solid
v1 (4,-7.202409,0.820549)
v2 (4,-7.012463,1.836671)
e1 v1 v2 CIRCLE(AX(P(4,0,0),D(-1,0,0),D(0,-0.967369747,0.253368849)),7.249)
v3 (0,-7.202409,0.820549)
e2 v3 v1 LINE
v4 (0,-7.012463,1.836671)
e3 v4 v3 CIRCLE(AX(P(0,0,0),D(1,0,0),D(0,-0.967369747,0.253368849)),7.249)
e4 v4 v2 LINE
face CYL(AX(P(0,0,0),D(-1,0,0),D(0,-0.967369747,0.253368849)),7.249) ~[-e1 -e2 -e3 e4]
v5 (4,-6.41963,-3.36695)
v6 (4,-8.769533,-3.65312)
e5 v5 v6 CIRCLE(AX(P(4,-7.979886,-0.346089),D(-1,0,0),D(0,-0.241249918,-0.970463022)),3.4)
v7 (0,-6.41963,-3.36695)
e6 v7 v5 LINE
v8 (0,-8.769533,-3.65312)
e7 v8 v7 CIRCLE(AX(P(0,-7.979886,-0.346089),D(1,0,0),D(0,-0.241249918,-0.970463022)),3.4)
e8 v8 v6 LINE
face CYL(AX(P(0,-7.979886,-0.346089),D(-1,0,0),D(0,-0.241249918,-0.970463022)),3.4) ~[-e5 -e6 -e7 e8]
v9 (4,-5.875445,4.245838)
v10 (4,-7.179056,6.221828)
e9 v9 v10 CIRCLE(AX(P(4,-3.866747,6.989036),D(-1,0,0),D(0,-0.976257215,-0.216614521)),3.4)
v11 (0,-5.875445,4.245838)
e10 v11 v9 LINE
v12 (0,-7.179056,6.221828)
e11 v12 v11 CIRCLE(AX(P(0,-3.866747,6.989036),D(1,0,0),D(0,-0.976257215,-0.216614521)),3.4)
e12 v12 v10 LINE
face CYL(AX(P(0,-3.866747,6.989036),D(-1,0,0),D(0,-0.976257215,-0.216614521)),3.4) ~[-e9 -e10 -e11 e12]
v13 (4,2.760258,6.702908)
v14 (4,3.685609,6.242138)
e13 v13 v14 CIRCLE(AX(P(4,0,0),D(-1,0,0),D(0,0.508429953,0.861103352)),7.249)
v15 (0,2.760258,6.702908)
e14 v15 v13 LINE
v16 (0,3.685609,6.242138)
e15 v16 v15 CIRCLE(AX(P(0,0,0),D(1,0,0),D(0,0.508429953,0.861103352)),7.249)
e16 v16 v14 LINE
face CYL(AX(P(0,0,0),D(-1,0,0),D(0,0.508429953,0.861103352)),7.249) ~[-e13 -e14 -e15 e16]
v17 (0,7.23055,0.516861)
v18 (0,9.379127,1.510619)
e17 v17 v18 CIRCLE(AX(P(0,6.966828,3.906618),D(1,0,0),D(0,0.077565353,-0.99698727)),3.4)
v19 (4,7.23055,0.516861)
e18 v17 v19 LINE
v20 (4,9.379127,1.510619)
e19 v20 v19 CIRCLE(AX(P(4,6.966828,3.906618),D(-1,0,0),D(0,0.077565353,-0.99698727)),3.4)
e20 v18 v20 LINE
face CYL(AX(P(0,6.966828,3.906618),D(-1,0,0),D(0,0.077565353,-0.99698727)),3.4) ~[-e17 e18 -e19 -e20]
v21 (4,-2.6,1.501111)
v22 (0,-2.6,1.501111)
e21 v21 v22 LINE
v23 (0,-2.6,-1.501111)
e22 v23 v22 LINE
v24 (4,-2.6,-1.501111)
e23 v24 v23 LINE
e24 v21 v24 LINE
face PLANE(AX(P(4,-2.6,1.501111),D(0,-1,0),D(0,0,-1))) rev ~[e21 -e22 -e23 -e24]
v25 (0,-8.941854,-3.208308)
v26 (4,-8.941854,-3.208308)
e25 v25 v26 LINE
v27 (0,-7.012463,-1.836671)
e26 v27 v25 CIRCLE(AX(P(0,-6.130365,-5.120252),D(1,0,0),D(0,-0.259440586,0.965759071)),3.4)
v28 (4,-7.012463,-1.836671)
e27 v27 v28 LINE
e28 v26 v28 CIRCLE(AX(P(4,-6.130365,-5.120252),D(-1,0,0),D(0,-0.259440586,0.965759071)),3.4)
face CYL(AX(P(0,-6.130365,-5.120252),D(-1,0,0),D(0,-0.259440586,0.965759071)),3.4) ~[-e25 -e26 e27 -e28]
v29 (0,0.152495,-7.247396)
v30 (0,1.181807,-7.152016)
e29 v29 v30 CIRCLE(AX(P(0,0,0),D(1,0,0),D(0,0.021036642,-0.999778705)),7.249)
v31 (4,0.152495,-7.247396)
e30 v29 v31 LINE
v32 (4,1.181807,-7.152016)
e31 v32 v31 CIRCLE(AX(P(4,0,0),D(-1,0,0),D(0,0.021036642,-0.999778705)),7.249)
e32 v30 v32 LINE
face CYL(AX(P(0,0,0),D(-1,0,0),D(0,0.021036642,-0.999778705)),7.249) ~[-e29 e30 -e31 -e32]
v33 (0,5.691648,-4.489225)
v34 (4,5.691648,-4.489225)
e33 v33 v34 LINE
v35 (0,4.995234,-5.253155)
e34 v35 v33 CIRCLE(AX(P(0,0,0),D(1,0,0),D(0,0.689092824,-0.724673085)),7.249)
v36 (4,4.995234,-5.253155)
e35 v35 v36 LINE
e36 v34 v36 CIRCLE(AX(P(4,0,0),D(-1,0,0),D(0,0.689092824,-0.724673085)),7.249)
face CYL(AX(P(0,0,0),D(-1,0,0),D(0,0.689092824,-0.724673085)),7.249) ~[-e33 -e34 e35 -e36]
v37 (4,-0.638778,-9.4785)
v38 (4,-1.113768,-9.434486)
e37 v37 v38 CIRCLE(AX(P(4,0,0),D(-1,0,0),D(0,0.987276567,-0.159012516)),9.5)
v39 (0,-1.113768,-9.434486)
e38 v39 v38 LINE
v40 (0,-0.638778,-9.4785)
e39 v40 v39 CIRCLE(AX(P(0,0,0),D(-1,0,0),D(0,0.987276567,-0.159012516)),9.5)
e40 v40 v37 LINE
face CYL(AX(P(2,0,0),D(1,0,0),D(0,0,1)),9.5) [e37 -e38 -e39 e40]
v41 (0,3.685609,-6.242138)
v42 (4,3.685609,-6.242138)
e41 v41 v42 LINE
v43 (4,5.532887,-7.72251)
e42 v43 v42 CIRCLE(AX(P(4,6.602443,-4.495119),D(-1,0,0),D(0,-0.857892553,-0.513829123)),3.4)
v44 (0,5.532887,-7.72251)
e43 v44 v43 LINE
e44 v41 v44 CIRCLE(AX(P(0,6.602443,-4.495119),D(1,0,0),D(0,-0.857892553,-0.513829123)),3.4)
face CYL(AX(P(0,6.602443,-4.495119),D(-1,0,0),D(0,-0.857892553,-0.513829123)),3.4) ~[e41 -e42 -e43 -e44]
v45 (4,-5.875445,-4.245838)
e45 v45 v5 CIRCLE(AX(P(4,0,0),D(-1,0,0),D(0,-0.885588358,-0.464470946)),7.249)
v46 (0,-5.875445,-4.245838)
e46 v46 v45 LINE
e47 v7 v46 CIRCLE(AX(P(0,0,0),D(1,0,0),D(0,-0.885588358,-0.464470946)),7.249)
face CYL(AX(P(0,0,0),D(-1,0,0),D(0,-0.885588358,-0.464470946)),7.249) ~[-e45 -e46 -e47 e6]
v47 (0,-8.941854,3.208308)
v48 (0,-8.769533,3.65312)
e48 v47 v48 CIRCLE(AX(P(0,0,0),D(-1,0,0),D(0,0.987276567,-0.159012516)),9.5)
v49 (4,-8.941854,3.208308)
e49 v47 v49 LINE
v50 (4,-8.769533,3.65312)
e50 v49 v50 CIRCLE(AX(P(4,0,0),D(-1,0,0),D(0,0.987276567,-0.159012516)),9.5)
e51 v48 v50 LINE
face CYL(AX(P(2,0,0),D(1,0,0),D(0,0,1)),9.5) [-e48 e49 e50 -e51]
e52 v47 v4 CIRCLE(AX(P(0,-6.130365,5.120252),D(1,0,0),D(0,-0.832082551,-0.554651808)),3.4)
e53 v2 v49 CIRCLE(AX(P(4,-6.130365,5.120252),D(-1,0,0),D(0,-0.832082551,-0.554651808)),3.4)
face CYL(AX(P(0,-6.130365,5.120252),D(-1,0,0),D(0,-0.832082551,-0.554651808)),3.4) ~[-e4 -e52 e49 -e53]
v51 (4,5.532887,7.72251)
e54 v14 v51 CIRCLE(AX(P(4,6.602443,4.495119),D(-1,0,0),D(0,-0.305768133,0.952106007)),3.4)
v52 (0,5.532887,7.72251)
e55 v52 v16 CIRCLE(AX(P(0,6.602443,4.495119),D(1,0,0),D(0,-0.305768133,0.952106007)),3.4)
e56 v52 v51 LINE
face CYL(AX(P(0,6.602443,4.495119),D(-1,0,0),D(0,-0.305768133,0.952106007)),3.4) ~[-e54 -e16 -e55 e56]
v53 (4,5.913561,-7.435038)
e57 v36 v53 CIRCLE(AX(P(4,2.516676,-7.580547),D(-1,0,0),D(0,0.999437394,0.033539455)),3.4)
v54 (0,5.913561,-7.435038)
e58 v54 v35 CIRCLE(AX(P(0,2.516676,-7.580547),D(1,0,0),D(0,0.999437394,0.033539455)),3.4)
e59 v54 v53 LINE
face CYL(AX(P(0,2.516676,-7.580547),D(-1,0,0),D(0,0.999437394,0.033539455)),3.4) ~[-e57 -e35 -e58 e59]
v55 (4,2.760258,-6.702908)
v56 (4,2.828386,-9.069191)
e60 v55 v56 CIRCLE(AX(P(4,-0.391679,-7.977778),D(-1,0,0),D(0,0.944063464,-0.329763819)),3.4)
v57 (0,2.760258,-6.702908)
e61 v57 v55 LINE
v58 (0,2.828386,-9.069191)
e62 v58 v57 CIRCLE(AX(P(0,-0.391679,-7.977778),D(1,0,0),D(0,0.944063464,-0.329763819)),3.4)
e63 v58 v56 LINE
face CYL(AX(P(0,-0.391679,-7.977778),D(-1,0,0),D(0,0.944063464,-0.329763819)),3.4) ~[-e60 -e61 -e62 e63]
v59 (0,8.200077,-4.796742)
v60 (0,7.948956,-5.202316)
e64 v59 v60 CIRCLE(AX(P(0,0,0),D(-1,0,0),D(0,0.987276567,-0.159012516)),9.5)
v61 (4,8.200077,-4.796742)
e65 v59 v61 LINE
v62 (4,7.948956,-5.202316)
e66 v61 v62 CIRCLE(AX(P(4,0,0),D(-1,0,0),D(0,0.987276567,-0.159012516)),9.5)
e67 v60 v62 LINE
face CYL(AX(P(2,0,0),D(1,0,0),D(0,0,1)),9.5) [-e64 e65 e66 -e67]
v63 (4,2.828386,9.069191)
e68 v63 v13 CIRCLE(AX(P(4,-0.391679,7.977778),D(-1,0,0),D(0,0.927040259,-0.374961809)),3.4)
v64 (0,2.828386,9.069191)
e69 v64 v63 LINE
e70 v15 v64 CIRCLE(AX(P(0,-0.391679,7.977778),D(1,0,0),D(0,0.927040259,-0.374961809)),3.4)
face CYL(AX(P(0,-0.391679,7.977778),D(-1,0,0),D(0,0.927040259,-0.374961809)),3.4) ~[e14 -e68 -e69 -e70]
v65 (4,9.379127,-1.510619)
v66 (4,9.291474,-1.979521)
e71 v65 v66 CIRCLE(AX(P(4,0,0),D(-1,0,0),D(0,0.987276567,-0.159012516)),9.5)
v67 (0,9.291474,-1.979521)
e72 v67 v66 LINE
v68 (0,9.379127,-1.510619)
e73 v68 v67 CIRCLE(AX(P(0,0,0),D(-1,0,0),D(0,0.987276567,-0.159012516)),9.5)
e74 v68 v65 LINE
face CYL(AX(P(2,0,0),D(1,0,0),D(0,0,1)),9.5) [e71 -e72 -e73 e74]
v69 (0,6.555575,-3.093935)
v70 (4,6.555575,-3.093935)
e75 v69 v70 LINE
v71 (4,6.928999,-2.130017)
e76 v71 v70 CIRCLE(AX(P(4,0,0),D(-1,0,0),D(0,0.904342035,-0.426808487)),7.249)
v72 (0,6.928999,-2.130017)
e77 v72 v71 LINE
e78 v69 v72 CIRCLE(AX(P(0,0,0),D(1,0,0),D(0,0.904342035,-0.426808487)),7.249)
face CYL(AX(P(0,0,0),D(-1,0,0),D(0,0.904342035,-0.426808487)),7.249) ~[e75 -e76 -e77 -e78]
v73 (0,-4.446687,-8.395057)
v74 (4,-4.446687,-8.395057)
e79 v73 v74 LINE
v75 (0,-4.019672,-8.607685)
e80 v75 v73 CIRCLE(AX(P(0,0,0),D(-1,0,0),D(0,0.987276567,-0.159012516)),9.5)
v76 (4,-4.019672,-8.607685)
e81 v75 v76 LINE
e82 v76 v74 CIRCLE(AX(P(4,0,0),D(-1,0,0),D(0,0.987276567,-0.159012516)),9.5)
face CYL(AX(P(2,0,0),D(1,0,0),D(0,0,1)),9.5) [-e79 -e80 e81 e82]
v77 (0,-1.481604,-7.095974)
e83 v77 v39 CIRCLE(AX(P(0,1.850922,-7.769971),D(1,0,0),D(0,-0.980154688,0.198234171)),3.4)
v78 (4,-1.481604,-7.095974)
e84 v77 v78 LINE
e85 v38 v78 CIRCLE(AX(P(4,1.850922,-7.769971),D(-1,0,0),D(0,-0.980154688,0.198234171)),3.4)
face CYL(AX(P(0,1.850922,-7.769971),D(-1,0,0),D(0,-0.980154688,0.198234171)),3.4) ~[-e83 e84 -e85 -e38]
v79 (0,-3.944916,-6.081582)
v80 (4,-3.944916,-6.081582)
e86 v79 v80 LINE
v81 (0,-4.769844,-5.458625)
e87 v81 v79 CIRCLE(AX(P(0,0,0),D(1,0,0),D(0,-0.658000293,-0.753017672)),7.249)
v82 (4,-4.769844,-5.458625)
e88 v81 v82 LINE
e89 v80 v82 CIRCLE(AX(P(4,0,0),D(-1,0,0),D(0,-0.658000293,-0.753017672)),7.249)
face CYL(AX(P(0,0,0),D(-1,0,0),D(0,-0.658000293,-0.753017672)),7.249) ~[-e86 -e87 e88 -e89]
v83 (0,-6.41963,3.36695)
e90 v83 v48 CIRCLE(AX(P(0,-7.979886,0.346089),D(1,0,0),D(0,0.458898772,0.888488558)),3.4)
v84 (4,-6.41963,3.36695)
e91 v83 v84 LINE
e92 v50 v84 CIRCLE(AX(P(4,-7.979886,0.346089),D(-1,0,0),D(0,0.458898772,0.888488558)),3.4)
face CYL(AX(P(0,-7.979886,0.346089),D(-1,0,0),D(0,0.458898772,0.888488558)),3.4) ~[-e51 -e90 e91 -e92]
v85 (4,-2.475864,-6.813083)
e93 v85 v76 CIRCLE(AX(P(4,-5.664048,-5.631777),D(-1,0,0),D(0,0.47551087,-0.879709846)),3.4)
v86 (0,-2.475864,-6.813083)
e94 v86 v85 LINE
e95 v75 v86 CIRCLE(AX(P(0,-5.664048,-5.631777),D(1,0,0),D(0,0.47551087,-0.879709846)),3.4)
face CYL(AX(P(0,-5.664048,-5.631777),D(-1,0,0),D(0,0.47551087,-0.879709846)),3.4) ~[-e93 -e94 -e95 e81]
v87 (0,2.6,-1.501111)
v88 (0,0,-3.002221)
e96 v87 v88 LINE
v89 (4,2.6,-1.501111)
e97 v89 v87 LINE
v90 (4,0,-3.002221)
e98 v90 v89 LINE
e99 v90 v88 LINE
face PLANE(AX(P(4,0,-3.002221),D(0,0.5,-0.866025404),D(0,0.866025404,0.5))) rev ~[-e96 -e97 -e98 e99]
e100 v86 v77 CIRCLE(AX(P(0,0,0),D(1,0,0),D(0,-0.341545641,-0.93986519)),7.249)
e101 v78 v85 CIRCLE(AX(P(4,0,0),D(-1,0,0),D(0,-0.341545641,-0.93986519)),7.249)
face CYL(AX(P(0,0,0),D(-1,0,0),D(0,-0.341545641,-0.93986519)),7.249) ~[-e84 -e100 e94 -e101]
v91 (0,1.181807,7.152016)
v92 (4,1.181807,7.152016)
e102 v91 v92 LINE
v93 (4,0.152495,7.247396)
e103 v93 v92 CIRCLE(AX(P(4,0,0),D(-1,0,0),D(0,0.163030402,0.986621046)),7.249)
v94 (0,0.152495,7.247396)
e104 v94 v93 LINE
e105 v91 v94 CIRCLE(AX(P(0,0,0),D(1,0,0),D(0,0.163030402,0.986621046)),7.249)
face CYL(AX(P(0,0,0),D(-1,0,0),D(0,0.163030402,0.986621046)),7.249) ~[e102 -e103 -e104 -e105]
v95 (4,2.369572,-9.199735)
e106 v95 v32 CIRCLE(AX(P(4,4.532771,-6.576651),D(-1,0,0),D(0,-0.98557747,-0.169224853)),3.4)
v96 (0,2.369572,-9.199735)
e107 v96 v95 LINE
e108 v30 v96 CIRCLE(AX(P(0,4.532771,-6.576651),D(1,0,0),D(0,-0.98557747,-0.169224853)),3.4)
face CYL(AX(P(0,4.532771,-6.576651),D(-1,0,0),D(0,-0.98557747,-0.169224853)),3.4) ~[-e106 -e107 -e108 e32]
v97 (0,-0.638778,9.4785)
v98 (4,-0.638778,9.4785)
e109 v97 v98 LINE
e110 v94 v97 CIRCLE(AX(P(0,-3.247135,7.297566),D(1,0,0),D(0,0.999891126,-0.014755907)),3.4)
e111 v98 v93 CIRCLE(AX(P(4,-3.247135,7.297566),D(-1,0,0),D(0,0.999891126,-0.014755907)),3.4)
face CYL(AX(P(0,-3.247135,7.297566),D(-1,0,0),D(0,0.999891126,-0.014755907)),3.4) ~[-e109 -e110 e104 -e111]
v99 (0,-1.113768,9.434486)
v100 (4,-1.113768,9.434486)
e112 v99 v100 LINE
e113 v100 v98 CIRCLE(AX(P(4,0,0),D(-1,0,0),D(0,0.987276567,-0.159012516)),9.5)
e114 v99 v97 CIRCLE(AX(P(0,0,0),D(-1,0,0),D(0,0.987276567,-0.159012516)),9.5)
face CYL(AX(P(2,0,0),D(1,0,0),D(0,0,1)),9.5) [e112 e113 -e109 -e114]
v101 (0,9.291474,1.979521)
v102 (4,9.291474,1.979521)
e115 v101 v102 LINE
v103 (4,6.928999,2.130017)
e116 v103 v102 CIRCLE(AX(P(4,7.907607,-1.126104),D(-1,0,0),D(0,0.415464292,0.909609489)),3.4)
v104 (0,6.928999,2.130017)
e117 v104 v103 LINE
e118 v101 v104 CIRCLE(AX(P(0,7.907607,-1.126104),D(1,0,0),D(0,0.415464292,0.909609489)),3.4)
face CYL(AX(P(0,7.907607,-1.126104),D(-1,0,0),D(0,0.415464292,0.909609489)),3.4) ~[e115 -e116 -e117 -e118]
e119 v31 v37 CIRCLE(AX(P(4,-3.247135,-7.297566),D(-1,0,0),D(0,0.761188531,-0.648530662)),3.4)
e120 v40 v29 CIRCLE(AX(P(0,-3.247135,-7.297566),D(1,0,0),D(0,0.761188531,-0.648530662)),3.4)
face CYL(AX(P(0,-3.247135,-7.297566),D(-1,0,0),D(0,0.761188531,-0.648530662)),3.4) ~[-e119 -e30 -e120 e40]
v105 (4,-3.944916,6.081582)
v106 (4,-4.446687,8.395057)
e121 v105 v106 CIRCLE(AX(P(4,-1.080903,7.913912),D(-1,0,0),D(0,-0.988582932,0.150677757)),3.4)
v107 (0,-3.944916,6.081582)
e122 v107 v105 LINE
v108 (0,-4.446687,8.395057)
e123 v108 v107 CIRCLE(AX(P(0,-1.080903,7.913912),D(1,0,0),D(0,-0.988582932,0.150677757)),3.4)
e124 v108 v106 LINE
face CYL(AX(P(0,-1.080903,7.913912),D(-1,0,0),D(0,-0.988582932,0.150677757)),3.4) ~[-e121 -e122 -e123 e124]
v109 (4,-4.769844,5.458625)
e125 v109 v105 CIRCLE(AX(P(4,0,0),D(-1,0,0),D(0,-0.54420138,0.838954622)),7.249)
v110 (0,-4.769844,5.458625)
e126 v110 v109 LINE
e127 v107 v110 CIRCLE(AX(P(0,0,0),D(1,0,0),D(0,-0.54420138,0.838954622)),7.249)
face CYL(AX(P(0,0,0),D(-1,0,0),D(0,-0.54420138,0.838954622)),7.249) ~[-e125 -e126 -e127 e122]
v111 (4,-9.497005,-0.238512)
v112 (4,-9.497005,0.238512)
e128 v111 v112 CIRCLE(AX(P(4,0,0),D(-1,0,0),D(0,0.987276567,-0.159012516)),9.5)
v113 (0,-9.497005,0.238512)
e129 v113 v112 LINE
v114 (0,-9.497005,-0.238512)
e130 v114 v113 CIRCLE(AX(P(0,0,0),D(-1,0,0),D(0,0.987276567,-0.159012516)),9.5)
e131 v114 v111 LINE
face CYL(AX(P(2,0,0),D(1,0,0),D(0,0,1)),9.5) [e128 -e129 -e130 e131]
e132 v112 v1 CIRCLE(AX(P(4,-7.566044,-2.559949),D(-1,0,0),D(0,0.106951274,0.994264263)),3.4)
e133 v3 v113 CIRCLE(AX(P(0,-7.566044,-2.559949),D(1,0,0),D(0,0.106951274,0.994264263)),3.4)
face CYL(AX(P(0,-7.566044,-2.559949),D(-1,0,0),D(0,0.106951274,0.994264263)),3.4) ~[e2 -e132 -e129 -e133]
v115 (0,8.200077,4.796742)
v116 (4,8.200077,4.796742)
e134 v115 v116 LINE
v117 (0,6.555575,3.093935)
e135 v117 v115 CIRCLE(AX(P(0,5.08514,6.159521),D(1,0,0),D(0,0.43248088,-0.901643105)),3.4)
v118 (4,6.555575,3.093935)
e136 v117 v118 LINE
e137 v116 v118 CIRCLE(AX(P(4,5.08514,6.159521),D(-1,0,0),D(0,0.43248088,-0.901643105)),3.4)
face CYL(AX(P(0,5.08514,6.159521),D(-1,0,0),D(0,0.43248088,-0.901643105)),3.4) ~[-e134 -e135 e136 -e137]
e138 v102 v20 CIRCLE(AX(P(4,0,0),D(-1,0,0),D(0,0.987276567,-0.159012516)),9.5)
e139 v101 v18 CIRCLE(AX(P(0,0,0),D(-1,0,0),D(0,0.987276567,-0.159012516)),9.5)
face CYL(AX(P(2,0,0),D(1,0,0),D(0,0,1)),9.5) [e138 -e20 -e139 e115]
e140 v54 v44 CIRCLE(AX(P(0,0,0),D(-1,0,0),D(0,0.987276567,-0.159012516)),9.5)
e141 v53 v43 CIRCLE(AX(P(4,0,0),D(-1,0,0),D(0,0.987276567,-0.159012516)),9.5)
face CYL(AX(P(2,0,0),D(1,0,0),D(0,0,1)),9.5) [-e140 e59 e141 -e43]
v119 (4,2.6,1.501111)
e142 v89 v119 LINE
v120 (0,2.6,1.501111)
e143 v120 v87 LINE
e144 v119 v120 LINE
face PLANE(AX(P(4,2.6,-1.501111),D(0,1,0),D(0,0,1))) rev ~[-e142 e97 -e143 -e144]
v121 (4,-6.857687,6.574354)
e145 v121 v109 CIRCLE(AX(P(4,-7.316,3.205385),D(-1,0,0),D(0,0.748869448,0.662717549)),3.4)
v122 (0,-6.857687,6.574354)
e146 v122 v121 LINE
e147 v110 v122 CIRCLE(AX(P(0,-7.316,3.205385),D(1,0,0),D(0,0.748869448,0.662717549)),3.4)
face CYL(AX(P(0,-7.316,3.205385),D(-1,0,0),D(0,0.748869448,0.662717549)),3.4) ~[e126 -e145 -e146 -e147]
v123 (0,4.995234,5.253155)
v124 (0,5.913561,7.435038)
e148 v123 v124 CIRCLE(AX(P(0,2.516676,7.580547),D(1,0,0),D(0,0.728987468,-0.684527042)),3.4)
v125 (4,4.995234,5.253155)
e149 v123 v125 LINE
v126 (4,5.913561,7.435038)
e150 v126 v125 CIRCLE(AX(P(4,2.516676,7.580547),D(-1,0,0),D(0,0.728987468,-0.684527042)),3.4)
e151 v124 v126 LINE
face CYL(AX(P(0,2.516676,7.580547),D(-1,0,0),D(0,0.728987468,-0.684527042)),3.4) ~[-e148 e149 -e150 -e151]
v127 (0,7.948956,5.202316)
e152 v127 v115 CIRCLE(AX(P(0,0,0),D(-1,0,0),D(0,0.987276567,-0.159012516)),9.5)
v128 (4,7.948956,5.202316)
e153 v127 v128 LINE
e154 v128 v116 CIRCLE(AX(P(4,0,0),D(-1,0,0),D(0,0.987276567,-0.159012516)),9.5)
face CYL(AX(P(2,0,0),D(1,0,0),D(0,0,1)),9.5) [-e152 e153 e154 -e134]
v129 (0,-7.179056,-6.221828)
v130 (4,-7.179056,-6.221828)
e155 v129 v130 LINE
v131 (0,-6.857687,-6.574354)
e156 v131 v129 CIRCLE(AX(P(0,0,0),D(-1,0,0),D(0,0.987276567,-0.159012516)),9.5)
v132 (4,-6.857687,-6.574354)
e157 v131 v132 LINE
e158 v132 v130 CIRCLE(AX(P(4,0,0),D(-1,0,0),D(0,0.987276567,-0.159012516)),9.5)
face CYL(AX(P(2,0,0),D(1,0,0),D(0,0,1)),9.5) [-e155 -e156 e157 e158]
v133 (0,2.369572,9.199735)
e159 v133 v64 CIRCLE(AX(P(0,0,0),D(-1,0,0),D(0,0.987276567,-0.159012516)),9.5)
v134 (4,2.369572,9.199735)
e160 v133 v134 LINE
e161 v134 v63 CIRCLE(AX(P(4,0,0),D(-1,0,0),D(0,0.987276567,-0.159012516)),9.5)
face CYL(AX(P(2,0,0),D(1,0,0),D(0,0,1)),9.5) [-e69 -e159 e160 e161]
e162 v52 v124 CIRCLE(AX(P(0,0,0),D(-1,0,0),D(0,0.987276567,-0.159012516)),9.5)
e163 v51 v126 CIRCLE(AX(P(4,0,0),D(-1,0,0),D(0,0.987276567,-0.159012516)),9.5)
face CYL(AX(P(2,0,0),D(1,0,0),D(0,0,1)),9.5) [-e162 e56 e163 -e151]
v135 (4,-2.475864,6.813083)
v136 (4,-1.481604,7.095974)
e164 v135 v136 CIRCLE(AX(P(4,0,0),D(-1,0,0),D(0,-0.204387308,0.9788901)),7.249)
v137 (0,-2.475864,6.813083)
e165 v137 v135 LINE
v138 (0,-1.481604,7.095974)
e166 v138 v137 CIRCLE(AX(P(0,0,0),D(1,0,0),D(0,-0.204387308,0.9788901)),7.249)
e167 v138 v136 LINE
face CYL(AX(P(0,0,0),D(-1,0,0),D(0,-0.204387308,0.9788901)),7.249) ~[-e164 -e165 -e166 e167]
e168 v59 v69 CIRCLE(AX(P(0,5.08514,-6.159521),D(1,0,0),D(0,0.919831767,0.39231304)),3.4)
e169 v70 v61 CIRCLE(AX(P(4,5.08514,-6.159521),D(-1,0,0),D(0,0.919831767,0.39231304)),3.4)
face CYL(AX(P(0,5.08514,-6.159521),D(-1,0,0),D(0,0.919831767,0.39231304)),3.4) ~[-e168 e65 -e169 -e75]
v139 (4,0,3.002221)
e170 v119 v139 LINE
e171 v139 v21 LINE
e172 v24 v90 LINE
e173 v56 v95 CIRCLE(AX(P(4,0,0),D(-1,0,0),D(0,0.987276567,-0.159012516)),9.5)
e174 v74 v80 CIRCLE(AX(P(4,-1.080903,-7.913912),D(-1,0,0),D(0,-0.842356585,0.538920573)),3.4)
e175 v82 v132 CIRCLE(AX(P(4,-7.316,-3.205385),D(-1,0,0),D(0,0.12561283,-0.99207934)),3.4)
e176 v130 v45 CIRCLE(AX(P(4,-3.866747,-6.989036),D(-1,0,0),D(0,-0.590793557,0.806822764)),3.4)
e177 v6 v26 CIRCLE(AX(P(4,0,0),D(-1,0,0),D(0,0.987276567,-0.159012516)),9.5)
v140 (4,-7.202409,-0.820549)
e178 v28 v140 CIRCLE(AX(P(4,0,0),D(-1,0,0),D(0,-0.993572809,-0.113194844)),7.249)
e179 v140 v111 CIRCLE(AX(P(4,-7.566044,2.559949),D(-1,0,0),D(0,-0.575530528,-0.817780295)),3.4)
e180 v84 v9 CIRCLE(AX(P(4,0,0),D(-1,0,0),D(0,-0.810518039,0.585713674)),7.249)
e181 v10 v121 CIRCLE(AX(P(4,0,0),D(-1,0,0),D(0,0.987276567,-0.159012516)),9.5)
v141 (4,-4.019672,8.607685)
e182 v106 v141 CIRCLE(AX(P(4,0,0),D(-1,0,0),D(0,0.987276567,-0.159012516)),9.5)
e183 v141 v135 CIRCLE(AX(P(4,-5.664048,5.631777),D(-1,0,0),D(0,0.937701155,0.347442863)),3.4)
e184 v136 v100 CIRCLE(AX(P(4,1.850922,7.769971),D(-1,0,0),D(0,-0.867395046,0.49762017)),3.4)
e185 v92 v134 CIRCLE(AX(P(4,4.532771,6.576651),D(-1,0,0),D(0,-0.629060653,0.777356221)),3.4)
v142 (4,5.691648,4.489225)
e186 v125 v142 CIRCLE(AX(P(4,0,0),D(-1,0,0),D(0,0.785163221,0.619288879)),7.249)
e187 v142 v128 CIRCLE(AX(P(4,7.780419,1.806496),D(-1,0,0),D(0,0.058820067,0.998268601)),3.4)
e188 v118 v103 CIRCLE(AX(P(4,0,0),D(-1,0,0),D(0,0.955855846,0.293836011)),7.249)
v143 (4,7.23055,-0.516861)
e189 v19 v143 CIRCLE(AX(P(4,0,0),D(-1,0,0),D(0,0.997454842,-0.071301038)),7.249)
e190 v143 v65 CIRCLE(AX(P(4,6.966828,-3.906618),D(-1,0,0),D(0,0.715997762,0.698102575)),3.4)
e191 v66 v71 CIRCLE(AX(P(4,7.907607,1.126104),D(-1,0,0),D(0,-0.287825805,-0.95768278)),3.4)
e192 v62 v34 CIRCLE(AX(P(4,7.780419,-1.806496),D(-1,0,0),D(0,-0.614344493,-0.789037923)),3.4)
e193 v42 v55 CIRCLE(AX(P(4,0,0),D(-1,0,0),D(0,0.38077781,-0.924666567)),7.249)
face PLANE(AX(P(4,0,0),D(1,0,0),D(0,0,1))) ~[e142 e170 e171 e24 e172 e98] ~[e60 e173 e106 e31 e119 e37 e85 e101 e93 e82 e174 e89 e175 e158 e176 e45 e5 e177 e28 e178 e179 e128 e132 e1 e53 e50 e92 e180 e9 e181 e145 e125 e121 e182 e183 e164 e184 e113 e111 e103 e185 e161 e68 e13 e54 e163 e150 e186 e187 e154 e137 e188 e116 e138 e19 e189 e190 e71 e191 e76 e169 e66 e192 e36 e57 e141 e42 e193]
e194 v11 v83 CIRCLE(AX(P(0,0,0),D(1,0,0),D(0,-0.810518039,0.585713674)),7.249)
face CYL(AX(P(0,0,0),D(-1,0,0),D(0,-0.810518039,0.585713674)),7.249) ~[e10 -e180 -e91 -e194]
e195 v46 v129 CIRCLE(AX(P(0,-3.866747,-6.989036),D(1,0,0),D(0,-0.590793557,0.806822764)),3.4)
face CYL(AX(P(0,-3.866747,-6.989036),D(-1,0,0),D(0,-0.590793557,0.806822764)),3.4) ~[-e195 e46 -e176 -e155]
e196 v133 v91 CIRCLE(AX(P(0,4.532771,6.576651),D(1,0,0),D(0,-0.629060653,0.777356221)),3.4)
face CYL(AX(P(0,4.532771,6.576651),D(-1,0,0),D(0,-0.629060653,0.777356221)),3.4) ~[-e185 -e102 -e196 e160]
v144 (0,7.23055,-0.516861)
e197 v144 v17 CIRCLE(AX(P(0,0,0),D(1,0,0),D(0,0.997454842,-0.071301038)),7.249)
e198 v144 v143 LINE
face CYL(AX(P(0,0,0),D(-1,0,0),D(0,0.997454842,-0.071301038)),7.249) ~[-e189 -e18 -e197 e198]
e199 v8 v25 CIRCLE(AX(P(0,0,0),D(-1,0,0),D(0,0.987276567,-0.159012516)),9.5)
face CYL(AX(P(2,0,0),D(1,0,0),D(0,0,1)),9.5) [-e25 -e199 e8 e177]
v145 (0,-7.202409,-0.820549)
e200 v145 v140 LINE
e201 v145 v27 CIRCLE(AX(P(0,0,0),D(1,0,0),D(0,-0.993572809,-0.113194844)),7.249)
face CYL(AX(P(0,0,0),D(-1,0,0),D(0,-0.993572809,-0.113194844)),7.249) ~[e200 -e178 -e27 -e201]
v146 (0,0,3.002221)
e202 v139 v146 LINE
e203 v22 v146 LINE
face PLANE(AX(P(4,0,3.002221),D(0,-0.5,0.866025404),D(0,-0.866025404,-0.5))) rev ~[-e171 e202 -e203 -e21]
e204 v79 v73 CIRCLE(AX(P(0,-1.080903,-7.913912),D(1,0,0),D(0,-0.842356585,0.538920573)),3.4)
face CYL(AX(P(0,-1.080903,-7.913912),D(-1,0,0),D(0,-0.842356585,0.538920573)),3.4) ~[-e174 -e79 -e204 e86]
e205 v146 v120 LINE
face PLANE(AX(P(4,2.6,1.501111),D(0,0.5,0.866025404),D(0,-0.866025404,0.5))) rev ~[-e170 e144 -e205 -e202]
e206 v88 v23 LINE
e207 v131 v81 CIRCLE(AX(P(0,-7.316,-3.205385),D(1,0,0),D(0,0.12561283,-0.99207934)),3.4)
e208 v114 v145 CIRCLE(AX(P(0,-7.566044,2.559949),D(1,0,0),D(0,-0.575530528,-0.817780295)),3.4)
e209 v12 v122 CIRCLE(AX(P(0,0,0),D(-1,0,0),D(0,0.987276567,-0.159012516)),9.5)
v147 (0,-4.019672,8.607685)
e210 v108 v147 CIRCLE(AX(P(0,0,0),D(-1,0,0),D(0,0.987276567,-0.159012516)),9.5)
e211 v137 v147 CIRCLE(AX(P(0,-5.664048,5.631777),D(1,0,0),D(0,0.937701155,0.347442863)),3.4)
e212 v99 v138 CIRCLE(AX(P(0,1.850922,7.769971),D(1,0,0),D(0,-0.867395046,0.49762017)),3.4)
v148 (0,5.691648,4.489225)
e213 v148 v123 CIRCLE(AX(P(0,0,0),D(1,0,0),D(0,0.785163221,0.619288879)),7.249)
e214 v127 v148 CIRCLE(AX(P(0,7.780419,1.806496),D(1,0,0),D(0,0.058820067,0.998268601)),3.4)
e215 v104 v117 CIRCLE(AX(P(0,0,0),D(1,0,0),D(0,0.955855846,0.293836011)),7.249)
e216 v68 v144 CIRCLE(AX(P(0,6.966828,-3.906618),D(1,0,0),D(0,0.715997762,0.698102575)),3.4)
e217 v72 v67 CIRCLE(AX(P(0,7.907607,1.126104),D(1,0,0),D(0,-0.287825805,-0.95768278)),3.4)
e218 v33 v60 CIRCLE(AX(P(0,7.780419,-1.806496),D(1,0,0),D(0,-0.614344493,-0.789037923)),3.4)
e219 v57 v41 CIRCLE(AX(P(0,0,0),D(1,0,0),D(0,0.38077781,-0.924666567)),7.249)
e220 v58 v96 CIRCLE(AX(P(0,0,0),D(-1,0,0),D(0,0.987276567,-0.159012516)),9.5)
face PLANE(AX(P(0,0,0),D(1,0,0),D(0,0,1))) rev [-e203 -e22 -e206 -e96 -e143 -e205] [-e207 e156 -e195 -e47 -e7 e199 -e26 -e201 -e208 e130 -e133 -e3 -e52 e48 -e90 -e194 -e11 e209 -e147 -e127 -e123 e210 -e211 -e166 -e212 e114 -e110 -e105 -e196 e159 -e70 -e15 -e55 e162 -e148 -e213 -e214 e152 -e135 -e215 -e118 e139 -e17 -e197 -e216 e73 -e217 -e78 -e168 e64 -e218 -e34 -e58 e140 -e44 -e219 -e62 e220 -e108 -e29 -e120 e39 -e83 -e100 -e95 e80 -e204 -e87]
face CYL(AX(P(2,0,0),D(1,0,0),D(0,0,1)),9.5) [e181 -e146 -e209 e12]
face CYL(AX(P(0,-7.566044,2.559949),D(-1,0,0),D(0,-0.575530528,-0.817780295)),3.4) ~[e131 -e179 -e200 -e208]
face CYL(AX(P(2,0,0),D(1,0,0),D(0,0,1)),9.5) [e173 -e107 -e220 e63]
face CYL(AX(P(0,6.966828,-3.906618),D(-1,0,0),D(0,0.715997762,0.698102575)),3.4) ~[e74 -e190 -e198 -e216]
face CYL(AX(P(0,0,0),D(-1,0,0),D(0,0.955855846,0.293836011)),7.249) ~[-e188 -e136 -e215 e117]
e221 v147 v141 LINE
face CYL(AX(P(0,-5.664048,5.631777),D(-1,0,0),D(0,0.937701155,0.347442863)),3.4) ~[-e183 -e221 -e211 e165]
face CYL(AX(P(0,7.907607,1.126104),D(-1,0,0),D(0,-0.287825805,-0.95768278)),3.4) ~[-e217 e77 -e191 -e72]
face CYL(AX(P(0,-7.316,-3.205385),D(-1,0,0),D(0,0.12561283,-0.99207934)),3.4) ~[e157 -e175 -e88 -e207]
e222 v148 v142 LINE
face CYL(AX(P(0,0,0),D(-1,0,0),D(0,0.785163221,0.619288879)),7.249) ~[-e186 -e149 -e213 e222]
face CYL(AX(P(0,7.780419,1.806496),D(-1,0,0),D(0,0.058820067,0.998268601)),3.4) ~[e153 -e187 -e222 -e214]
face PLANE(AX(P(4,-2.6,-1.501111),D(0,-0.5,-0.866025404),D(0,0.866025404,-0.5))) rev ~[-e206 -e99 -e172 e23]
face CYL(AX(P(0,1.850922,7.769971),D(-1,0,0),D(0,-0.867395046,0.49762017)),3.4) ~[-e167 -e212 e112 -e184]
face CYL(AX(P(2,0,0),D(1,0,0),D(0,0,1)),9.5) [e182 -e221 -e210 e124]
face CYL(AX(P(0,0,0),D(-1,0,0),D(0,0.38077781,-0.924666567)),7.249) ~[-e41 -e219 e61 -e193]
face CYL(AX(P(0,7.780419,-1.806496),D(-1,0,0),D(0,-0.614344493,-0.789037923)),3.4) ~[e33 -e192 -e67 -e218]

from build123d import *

# Parameters (mm, degrees)
BASPROSKE_W        = 4
BASPROSKE_H        = 9.5
TOOTHCUT_DEPTH     = 15.017845769
TEETHCUTS_COUNT    = 17
TEETHCUTS_ANGLE    = 338.823529412
BORSKE_R           = 0.4
BORE_DEPTH         = 50.0000508
CUT_EXTRUDE1_DEPTH = 15.003283988


with BuildPart() as part:
    # BasProSke → Base-Revolve (revolve)
    with BuildSketch(Plane(origin=(0, 0, 0), x_dir=(1, 0, 0), z_dir=(0, 1, 0)), mode=Mode.PRIVATE) as base_revolve_sk:
        with Locations((2, 4.75)):
            Rectangle(BASPROSKE_W, BASPROSKE_H)
    revolve(base_revolve_sk.sketch.rotate(Axis((-10, 0, 0), (1, 0, 0)), 180), axis=Axis((-10, 0, 0), (1, 0, 0)))

    # TooCutSke → ToothCut (cut, through all)
    with BuildSketch(Plane(origin=(0, 0, 0), x_dir=(0, 0, -1), z_dir=(1, 0, 0))):
        with BuildLine():
            ThreePointArc((0.516861231, 7.23055015), (0, 7.249), (-0.516861231, 7.23055015))
            ThreePointArc((-0.516861231, 7.23055015), (-0.827352654, 8.408398361), (-1.533069197, 9.401220346))
            ThreePointArc((-1.533069197, 9.401220346), (0, 9.5254), (1.533069197, 9.401220346))
            ThreePointArc((1.533069197, 9.401220346), (0.827352654, 8.408398361), (0.516861231, 7.23055015))
        make_face()
    toothcut = extrude(amount=TOOTHCUT_DEPTH, mode=Mode.SUBTRACT)

    # TeethCuts: ToothCut ×17 about axis
    teethcuts_axis = Axis((-10, 0, 0), (1, 0, 0))
    for i in range(1, TEETHCUTS_COUNT):
        add(toothcut.rotate(teethcuts_axis, i * TEETHCUTS_ANGLE / (TEETHCUTS_COUNT - 1)), mode=Mode.SUBTRACT)

    # BorSke → Bore (cut, symmetric)
    with BuildSketch(Plane(origin=(0, 0, 0), x_dir=(0, 0, -1), z_dir=(1, 0, 0))):
        with Locations(Location((0, 0, 0), (0, 0, 180))):
            Circle(BORSKE_R)
    extrude(amount=BORE_DEPTH, both=True, mode=Mode.SUBTRACT)

    # Sketch1 → Cut-Extrude1 (cut, through all)
    with BuildSketch(Plane(origin=(4, 0, 0), x_dir=(0, 0, -1), z_dir=(1, 0, 0))):
        Polygon((3.0022214, 0), (1.5011107, 2.6), (-1.5011107, 2.6), (-3.0022214, 0), (-1.5011107, -2.6), (1.5011107, -2.6), align=None)
    extrude(amount=-CUT_EXTRUDE1_DEPTH, mode=Mode.SUBTRACT)


solid = part.part
